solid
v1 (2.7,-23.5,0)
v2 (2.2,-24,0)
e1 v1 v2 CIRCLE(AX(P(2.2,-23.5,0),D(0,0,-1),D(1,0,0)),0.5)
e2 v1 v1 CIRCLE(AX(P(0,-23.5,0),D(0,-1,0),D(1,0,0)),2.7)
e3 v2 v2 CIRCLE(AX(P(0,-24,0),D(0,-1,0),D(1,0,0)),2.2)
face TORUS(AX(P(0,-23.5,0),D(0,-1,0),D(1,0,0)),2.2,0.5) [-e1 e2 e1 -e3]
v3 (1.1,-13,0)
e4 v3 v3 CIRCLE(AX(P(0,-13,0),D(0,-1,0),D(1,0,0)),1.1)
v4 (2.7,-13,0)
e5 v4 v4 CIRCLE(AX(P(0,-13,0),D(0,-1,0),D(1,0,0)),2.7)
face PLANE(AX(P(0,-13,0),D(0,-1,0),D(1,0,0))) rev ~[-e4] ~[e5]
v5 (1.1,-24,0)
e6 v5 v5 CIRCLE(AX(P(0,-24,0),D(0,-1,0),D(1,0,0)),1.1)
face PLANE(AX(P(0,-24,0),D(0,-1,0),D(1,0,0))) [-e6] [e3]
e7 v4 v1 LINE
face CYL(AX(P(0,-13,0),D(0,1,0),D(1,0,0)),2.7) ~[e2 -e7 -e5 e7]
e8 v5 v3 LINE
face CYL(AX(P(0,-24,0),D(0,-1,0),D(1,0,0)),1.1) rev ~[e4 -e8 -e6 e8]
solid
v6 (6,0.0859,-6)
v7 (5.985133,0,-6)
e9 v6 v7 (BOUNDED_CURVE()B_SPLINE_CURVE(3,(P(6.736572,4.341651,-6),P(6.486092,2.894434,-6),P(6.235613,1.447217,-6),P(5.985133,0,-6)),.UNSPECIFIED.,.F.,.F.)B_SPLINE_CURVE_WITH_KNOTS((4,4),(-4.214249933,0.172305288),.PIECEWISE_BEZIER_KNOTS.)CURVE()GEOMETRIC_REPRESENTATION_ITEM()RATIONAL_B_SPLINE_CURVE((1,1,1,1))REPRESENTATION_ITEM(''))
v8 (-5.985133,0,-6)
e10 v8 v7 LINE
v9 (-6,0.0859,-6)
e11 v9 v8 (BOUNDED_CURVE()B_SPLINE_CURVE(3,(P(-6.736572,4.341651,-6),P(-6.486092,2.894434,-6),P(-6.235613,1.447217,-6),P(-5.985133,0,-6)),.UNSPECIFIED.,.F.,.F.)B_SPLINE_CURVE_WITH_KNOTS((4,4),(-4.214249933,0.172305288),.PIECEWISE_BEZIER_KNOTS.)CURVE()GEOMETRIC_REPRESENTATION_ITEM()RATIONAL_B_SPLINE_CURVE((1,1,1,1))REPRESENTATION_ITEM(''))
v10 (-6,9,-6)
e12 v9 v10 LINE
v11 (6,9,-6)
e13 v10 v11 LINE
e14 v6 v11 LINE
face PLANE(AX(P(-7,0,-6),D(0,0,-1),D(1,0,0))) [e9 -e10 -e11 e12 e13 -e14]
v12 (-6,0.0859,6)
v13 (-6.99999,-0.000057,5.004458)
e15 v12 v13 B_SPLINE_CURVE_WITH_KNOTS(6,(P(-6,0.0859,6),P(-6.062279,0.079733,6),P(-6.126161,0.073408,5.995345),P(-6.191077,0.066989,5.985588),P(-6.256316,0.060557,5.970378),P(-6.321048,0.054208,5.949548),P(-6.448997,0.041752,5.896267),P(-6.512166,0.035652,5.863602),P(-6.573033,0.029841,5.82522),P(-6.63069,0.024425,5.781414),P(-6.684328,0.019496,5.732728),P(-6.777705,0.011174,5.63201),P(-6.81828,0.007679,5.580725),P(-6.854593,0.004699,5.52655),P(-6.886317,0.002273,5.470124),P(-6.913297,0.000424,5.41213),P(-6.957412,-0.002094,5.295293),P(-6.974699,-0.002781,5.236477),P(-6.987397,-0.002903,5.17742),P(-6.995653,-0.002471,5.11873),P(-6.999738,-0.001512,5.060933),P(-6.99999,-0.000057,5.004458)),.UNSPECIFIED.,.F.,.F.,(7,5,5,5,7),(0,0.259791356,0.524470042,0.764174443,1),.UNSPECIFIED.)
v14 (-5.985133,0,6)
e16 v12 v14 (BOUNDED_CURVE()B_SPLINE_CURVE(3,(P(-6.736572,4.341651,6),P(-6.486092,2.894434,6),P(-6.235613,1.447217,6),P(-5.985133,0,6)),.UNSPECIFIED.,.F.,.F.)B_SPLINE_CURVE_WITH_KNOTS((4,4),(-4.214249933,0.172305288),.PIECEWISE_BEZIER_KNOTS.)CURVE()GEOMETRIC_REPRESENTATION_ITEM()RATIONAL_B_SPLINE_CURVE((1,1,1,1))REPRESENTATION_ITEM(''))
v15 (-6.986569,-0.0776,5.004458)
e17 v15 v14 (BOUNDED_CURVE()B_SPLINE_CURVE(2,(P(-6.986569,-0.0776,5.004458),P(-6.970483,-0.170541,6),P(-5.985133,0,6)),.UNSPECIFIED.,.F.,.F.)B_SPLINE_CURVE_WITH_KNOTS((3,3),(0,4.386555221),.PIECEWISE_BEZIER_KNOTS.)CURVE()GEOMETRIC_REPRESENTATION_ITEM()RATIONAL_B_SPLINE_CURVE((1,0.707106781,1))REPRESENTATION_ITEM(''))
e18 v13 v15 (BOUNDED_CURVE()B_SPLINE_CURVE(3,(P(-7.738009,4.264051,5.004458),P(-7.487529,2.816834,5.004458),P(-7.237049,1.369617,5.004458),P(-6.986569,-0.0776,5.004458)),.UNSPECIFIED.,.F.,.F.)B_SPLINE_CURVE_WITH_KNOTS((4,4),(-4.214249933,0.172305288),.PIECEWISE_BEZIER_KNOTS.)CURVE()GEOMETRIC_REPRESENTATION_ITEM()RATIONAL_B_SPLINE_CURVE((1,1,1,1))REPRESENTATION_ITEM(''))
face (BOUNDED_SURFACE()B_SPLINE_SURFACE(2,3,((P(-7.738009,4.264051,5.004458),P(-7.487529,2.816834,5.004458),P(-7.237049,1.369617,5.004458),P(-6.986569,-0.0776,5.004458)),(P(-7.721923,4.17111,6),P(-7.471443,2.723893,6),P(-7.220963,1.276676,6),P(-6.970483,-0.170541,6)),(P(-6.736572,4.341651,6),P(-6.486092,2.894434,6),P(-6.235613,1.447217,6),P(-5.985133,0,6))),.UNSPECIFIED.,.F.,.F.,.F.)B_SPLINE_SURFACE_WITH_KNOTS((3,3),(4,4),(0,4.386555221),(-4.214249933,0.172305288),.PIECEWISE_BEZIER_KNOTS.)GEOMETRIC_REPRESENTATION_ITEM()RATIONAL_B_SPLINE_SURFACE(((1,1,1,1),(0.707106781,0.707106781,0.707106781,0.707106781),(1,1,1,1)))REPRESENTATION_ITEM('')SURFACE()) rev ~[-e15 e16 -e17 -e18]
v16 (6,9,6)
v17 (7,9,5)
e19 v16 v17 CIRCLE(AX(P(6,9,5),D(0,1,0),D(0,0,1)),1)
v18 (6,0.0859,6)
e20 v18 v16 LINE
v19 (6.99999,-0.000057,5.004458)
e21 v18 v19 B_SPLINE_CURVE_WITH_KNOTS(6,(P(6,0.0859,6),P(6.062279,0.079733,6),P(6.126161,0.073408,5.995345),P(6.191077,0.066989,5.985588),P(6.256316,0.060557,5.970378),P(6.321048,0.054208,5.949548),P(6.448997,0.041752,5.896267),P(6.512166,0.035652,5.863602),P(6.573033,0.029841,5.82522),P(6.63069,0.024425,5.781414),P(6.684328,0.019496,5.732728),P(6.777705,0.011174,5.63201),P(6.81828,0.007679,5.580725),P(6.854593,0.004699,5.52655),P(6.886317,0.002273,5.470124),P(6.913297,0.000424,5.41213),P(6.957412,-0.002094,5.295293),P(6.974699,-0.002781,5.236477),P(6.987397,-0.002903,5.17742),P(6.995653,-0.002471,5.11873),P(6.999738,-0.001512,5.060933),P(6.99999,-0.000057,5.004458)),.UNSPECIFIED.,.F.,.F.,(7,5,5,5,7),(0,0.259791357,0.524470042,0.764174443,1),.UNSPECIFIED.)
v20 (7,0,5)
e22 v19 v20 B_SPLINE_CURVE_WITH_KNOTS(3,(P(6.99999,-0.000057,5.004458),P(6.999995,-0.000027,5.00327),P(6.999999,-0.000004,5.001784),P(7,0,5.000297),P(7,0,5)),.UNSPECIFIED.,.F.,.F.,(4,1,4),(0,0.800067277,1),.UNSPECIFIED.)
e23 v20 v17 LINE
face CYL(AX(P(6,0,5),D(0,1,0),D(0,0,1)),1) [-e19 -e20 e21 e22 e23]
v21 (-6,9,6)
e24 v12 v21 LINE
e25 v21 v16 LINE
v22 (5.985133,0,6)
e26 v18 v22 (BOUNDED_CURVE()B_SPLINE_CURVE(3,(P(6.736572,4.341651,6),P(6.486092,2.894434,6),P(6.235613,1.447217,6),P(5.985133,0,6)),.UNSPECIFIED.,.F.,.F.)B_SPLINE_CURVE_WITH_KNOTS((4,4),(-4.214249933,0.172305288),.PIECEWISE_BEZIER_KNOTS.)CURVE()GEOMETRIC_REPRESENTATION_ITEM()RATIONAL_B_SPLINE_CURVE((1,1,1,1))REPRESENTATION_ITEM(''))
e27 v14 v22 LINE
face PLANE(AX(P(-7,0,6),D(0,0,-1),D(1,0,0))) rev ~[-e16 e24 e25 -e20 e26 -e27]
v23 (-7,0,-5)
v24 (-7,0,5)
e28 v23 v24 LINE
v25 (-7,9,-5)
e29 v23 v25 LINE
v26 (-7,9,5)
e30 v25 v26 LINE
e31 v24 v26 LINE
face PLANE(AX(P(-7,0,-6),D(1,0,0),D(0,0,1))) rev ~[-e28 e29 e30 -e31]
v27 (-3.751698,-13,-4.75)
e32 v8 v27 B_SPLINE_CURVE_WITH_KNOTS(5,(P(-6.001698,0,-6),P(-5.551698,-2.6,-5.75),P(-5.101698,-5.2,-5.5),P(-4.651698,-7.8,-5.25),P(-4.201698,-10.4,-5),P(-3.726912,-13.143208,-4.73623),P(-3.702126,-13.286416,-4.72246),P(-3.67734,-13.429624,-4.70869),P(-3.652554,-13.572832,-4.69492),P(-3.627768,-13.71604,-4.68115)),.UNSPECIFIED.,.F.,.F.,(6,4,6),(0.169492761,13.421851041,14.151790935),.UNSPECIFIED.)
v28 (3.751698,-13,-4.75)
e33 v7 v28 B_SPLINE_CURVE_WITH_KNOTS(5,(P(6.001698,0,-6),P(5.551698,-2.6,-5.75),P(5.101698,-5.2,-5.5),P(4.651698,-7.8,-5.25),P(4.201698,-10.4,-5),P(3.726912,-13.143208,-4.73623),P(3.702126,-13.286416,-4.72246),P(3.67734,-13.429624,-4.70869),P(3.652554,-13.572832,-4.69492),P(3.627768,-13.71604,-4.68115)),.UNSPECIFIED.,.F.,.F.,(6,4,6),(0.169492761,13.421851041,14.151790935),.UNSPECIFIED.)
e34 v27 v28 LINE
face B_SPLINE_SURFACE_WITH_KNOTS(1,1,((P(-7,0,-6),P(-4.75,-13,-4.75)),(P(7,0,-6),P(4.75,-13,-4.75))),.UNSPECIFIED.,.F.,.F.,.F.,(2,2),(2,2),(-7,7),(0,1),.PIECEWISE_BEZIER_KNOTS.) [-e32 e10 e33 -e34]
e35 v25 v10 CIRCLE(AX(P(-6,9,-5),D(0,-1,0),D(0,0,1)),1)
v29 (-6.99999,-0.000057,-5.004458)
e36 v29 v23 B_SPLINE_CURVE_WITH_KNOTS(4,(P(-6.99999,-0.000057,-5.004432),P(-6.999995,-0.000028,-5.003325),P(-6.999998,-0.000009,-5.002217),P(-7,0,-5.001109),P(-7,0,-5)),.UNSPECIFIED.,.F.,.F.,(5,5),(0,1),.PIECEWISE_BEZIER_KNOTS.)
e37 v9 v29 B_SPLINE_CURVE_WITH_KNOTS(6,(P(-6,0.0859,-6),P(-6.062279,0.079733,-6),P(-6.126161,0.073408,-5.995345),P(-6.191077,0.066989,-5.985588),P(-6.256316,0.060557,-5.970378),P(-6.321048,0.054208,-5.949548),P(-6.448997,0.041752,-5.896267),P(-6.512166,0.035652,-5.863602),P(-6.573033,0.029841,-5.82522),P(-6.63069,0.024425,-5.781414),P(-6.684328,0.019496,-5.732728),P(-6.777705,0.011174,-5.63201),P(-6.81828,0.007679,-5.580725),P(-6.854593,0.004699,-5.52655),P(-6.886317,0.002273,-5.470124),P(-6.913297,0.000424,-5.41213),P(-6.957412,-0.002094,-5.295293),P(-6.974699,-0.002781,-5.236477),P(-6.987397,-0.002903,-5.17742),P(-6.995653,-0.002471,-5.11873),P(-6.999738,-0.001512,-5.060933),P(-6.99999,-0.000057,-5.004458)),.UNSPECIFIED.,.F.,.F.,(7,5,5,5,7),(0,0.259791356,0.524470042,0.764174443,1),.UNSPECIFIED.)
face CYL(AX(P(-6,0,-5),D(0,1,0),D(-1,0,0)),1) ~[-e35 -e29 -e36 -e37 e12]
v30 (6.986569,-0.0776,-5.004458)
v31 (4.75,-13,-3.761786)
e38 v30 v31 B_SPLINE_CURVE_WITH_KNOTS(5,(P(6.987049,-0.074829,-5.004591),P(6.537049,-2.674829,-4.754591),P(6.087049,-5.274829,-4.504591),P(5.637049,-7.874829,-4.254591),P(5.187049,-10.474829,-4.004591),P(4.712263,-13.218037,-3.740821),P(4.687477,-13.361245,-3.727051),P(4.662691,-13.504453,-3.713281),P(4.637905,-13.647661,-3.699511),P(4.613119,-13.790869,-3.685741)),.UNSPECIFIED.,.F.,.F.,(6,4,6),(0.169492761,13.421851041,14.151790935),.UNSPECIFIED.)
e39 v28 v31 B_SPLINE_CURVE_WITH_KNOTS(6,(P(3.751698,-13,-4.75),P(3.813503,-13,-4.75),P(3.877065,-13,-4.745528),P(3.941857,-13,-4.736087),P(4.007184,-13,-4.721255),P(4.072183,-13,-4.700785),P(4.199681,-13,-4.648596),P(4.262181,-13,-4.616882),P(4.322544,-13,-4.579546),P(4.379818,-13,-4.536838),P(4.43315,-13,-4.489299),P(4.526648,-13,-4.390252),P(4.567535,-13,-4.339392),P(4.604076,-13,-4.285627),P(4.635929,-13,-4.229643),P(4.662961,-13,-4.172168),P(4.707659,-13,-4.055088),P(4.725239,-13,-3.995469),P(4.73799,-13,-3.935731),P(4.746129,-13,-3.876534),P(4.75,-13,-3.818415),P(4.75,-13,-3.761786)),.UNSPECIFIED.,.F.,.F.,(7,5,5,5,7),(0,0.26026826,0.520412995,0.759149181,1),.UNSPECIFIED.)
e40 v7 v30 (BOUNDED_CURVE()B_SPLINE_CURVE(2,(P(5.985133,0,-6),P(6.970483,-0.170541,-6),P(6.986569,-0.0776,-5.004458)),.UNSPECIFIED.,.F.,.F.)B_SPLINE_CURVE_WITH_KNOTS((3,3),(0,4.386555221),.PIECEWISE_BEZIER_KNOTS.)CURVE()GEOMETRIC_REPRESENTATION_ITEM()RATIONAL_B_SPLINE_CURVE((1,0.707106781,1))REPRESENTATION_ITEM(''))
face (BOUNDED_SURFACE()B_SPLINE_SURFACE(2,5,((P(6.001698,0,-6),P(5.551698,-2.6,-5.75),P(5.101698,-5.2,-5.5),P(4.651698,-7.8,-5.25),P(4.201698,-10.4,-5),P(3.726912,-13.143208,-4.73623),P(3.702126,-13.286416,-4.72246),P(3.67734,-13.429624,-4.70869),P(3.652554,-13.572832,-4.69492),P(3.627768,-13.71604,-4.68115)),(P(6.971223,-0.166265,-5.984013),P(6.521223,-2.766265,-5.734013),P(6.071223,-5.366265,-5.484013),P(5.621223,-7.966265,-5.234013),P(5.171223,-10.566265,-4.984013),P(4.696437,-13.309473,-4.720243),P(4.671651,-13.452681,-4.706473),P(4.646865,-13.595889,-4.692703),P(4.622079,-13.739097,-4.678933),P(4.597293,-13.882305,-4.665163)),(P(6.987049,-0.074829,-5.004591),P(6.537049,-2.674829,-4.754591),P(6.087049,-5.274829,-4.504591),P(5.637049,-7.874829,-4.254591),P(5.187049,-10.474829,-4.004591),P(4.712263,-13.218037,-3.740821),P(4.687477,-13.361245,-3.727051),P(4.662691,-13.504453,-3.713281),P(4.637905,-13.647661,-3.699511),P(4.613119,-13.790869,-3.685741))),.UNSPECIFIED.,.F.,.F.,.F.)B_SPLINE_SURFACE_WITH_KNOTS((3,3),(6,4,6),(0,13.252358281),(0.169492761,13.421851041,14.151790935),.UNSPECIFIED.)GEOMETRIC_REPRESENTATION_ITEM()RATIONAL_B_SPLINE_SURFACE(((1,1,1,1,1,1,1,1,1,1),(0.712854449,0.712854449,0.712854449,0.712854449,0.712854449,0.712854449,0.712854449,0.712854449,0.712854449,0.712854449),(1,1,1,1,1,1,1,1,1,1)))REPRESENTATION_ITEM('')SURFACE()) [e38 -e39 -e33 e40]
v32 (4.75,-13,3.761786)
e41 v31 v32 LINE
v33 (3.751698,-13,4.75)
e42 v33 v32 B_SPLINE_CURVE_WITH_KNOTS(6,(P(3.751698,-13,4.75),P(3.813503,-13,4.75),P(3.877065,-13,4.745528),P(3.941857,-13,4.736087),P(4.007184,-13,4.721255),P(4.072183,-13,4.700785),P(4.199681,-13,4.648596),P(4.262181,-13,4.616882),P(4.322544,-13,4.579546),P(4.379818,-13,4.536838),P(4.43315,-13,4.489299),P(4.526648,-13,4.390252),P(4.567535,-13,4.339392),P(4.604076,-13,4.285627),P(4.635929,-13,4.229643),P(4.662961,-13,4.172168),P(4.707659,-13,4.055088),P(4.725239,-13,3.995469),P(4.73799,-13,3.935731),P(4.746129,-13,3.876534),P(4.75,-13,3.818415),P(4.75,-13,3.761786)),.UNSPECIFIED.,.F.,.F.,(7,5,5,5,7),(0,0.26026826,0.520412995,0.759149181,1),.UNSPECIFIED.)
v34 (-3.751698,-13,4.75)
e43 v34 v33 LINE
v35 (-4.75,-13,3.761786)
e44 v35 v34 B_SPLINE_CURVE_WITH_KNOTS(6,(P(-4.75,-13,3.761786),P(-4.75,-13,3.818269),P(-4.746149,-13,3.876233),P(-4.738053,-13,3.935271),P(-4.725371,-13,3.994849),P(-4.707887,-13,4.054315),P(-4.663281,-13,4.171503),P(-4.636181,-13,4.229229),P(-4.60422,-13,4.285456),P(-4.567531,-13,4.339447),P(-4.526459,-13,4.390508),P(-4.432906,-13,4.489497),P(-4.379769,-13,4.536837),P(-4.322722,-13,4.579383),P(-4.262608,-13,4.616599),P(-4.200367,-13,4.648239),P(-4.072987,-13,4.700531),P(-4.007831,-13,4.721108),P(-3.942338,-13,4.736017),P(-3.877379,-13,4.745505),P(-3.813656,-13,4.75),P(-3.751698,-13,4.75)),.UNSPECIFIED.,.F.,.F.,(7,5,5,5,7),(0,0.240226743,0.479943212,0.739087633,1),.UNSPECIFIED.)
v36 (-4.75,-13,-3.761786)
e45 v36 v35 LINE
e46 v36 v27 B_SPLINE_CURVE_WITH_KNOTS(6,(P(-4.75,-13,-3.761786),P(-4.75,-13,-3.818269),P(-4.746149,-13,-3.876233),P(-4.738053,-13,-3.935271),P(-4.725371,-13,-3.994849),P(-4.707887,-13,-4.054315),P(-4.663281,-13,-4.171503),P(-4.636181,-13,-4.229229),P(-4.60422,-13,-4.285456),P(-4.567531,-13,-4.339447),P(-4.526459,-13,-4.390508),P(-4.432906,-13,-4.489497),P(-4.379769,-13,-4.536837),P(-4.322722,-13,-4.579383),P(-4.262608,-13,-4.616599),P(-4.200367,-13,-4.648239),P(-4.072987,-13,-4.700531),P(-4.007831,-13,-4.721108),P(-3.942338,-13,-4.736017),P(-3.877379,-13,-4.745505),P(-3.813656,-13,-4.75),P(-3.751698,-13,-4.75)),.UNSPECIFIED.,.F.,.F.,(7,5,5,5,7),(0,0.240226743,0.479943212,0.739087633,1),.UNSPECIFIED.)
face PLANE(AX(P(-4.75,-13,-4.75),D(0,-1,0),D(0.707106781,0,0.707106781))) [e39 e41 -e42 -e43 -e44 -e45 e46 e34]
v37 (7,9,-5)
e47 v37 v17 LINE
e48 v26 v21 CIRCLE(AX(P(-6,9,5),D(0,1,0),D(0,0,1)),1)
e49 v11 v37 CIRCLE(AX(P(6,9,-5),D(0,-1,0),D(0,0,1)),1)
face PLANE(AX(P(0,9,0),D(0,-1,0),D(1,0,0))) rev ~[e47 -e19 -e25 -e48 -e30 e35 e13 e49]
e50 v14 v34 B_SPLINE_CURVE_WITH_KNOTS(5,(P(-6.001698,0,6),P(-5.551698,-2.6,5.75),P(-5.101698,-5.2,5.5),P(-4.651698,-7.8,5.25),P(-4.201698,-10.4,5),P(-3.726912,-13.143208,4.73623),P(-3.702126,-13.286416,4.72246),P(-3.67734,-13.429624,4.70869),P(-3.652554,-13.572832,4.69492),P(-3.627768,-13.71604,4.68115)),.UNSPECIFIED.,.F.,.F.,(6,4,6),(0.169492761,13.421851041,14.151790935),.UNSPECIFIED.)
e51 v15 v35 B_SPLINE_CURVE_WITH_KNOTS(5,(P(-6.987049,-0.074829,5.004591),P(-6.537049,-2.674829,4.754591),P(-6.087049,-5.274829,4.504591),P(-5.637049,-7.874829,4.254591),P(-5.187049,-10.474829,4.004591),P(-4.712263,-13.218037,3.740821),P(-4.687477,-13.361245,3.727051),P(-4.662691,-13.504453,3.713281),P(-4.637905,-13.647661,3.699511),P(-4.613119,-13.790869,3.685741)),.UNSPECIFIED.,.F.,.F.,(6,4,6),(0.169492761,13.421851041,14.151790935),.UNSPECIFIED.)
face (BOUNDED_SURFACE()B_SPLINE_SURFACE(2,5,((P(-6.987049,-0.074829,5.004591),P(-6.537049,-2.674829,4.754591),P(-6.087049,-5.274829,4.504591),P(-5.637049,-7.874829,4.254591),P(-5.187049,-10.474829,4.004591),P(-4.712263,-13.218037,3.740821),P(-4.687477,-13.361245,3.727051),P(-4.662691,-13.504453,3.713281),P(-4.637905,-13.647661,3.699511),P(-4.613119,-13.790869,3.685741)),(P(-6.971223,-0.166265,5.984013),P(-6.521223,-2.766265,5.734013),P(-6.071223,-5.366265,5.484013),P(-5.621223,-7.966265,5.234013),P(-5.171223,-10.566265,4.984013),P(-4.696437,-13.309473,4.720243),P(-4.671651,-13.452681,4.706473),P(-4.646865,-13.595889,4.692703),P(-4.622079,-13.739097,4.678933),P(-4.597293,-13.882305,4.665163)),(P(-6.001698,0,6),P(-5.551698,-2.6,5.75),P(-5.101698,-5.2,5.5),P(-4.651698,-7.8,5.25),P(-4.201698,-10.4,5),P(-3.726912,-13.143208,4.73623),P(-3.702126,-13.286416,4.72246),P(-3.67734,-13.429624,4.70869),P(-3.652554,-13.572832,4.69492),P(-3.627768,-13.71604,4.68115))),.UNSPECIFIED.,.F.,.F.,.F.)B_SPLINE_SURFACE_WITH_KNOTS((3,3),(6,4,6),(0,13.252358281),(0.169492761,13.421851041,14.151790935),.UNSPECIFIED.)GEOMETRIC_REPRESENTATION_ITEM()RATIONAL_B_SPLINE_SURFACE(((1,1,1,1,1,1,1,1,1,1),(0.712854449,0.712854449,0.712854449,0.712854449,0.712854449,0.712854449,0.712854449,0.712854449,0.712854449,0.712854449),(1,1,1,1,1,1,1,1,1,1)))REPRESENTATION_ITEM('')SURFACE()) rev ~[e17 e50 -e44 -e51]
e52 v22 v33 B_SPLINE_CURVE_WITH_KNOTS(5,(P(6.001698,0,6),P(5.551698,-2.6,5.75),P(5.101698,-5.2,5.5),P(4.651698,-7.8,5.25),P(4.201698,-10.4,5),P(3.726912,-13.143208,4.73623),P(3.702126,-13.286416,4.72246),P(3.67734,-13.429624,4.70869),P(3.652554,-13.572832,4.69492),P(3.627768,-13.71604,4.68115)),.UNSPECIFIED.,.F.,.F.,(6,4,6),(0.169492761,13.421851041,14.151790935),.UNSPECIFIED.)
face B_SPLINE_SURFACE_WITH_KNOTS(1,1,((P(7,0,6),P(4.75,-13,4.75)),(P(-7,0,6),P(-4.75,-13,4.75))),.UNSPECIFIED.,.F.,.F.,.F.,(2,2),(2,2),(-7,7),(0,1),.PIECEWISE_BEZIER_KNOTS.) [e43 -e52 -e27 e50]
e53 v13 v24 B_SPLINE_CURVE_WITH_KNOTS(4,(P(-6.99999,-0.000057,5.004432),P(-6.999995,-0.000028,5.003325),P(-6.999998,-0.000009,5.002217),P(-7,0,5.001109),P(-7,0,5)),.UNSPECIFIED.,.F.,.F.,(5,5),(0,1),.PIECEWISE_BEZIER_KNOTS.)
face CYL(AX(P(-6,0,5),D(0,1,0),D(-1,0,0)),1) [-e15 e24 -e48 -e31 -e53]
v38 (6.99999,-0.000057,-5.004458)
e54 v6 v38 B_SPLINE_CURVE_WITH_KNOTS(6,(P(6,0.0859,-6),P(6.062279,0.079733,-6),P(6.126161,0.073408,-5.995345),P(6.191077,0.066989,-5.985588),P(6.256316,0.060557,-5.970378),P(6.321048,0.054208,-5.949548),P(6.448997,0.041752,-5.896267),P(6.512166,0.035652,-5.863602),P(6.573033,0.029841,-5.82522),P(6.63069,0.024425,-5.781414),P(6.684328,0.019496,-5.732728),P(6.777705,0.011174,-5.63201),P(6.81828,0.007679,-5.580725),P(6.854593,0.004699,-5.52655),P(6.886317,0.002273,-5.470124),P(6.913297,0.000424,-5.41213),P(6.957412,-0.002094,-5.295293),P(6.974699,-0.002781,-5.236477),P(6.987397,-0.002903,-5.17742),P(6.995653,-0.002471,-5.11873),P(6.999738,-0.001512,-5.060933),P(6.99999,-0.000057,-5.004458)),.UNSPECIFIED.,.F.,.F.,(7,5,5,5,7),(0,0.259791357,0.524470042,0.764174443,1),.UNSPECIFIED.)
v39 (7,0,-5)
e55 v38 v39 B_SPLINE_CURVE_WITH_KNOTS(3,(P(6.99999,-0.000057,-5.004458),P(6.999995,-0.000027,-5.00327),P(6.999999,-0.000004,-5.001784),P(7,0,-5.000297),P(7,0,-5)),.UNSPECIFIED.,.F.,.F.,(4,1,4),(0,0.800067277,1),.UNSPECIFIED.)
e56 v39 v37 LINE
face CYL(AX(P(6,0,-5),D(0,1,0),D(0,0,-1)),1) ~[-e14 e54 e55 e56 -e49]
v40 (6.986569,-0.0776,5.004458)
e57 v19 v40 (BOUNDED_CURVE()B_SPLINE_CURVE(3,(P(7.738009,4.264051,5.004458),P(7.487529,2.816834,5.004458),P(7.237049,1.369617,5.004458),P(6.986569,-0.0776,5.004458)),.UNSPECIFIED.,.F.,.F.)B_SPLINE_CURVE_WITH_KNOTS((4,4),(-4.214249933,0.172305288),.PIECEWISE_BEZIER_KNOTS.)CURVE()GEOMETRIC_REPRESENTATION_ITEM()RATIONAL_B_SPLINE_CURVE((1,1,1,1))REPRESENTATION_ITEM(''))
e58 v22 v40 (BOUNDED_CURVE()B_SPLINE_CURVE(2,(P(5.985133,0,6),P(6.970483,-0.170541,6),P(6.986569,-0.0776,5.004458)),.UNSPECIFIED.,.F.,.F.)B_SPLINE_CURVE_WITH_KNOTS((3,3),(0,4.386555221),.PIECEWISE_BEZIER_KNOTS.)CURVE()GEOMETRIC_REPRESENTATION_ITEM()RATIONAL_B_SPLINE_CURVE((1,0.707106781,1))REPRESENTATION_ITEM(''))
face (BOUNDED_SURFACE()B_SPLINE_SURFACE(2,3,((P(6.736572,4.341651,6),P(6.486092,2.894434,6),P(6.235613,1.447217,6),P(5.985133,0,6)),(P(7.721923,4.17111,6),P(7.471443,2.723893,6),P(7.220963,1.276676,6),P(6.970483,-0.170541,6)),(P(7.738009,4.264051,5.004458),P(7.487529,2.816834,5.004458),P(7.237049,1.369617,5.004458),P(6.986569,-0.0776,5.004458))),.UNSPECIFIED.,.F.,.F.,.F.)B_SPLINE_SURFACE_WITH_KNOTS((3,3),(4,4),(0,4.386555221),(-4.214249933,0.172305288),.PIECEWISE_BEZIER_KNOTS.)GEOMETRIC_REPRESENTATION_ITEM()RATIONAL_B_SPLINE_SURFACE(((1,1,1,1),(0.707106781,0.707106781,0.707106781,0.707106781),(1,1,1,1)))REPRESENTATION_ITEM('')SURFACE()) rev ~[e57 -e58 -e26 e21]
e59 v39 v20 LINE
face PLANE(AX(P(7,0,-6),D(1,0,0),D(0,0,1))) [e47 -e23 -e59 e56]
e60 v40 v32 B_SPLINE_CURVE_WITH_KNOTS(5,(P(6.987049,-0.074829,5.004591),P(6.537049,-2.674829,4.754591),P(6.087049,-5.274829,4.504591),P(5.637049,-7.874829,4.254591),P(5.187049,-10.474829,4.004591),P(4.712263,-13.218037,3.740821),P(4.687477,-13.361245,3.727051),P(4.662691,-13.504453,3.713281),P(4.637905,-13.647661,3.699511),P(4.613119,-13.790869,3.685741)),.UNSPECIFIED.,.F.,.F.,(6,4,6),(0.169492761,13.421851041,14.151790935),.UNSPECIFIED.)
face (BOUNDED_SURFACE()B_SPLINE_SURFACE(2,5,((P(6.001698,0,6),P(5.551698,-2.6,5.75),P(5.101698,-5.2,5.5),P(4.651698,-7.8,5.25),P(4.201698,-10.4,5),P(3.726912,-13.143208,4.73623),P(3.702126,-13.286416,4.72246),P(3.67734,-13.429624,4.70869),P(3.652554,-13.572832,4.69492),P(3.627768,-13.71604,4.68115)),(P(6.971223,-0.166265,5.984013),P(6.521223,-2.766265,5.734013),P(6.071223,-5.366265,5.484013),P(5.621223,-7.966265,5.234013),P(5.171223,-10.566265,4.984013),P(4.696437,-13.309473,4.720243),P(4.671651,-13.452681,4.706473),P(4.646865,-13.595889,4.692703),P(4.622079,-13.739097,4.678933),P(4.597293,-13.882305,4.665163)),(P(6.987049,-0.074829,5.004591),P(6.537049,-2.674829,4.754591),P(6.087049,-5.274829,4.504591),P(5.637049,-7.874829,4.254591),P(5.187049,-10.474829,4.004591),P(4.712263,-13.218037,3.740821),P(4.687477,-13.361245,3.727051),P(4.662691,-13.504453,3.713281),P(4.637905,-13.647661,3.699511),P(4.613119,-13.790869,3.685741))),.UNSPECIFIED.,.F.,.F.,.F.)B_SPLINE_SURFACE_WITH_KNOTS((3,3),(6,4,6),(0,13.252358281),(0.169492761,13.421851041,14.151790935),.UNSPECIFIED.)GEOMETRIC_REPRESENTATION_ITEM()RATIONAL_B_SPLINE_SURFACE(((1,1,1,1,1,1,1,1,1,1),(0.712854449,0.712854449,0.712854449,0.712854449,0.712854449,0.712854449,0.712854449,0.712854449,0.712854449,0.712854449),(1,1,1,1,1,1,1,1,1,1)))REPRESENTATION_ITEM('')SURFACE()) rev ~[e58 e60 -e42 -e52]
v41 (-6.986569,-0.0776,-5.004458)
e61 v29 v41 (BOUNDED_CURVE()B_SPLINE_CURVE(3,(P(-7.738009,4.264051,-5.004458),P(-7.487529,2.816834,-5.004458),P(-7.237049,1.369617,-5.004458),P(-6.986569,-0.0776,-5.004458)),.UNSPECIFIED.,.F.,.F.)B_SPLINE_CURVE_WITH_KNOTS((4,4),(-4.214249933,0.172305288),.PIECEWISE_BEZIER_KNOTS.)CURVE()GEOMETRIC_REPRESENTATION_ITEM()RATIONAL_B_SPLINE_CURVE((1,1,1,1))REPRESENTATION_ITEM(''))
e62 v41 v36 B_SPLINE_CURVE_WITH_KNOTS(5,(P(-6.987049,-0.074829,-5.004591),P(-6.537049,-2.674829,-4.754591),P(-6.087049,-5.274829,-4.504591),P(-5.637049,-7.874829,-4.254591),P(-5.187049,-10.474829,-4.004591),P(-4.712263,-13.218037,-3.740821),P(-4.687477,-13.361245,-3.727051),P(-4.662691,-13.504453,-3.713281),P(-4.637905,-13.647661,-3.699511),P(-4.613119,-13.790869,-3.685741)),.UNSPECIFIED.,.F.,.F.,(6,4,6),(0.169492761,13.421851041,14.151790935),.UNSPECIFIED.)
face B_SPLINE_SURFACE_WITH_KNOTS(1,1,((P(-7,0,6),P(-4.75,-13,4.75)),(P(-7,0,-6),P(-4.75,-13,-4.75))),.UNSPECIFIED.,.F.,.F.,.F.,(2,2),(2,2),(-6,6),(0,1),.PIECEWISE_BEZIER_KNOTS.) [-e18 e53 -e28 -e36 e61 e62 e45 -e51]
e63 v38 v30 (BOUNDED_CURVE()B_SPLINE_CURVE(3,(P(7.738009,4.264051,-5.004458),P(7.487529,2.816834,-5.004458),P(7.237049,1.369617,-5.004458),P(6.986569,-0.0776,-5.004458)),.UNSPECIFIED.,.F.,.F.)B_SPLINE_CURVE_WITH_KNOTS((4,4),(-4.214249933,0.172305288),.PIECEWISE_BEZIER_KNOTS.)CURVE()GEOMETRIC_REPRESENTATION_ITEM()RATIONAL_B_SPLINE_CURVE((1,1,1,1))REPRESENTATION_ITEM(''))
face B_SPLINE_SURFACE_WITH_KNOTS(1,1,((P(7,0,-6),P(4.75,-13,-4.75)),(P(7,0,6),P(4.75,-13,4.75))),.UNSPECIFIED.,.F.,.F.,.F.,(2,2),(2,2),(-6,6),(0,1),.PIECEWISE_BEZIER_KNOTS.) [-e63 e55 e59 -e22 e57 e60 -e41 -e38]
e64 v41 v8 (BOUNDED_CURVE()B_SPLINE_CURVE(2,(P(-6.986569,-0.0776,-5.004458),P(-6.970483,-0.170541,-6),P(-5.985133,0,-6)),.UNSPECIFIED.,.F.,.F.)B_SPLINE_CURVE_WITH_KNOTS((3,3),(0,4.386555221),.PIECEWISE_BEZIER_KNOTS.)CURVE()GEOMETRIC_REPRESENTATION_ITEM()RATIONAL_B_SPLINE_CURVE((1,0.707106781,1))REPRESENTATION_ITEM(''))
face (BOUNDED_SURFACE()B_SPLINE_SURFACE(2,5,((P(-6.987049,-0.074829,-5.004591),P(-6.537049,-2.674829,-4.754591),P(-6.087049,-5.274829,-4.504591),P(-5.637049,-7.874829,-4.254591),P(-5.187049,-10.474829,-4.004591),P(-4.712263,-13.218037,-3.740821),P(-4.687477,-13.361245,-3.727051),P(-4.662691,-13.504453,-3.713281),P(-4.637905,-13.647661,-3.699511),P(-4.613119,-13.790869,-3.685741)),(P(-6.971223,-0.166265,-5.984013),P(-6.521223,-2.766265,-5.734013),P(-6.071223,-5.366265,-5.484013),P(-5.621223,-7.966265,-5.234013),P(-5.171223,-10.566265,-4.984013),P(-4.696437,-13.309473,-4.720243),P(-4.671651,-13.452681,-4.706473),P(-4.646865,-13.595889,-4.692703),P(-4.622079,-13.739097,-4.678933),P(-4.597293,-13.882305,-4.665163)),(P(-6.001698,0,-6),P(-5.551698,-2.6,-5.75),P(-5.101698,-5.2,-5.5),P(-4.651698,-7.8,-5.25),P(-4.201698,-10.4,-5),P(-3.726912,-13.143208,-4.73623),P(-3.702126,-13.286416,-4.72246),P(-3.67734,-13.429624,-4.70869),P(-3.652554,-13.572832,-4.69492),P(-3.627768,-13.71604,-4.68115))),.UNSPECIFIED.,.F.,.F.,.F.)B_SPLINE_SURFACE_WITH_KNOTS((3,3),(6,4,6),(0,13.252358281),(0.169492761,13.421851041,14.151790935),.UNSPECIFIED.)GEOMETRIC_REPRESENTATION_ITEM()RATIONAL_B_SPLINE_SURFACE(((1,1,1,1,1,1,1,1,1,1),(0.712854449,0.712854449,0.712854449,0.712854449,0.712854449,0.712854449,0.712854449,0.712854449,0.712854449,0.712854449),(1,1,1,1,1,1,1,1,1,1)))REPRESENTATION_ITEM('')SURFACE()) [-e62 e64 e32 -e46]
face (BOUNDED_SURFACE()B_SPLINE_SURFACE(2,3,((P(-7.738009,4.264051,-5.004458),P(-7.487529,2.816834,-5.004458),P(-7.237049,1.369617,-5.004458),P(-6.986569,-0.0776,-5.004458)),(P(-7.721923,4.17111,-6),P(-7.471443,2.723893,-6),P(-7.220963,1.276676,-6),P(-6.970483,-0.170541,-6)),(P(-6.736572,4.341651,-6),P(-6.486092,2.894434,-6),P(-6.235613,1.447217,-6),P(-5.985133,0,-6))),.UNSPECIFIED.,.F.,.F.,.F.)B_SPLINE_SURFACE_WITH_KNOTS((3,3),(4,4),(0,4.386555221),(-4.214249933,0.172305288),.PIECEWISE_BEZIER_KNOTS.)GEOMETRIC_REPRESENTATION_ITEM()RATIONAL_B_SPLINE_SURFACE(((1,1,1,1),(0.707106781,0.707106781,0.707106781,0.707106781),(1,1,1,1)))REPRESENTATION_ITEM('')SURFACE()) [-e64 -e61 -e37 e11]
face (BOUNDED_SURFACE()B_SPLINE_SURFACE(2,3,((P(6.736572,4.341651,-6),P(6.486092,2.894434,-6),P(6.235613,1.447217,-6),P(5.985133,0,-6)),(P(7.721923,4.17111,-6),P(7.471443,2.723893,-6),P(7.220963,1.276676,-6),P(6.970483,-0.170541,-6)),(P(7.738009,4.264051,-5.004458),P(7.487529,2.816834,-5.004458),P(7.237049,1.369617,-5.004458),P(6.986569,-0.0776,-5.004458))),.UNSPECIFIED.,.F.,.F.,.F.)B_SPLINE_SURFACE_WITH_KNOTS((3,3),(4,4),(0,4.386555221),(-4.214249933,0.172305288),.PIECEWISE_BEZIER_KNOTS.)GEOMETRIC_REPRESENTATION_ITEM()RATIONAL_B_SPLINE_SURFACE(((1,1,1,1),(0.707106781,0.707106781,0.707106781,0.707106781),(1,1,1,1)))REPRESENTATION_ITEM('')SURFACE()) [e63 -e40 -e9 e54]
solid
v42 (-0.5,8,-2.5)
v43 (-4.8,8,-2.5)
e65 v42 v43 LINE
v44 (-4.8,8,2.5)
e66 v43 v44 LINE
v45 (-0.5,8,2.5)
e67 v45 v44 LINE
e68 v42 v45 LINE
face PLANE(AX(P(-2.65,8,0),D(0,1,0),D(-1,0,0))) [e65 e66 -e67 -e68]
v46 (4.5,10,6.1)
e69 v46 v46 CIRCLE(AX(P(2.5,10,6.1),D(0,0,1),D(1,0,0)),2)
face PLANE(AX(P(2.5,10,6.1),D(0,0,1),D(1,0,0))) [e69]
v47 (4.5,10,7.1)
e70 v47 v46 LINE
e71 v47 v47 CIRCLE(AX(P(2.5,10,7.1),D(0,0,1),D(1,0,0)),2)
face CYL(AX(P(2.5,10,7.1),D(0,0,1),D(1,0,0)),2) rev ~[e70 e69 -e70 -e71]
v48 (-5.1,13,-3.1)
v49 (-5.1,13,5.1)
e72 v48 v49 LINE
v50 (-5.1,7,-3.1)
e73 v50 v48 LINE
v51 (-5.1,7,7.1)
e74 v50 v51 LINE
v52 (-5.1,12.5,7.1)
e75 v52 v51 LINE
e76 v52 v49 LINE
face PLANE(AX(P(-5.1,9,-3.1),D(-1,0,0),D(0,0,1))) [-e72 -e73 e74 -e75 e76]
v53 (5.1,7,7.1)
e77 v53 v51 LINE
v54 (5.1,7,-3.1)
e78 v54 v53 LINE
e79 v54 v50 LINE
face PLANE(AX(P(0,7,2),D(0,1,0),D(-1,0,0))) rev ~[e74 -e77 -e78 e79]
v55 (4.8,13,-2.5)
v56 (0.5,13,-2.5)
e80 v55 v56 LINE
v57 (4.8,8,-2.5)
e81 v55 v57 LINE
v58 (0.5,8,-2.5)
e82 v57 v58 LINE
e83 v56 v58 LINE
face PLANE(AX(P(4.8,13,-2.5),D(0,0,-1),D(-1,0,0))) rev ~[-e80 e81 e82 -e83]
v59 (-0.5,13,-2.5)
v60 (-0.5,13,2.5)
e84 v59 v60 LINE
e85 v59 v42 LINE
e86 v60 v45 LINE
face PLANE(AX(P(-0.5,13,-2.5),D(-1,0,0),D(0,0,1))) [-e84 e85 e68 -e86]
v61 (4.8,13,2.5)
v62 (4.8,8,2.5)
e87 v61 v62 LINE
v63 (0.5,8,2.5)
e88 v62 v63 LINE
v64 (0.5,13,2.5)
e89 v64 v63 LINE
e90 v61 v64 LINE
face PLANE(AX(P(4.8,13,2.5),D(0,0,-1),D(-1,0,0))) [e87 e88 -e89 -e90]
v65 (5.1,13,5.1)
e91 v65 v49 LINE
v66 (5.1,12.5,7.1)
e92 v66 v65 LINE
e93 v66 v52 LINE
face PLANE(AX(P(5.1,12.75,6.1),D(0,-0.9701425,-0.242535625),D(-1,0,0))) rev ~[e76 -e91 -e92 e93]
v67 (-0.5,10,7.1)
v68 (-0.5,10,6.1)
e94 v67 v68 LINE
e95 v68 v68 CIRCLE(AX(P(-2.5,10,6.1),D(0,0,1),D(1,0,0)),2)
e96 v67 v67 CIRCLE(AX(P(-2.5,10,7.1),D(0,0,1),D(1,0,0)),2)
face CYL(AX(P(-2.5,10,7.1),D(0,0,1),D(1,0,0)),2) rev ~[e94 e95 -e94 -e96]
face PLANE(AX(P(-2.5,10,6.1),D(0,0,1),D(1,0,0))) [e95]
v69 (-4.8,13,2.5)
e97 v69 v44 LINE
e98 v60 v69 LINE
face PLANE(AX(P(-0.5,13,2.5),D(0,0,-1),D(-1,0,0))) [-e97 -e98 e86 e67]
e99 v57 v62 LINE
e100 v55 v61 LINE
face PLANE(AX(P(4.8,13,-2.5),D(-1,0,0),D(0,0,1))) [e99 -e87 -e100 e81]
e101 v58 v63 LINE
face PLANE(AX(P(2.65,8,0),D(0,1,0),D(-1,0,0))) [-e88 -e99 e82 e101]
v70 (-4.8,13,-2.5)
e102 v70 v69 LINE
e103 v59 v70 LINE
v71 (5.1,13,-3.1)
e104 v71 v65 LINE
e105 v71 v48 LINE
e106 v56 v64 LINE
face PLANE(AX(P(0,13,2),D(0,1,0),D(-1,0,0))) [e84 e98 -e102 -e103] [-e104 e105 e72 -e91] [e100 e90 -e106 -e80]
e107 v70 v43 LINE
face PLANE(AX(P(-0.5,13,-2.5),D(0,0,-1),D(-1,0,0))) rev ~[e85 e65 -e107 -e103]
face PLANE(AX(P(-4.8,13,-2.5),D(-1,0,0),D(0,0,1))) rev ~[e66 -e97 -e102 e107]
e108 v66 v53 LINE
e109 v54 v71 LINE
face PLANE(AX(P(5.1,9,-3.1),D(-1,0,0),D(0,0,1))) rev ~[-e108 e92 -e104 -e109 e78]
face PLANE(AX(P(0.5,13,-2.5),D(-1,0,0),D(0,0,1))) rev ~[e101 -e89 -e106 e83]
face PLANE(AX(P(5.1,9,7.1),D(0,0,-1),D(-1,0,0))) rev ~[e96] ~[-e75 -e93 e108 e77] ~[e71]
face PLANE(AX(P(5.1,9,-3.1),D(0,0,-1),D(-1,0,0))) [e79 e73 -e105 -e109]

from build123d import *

# Parameters (mm, degrees)
SKETCH_W          = 14
SKETCH_H          = 12
PAD_DEPTH         = 9
SKETCH002_W       = 14
SKETCH002_H       = 12
SKETCH001_W       = 9.5
SKETCH001_H       = 9.5
FILLET_R          = 1
SKETCH003_R       = 2.7
PAD001_DEPTH      = 11
FILLET001_R       = 0.5
SKETCH004_R       = 1.1
POCKET_DEPTH      = 11
SKETCH005_W       = 10.2
SKETCH005_H       = 10.2
PAD002_DEPTH      = 4
PAD002_DEPTH_BACK = 2
SKETCH006_R       = 2
POCKET001_DEPTH   = 1
CHAMFER_SIZE2     = 2
CHAMFER_SIZE      = 0.5
SKETCH007_W       = 4.3
SKETCH007_H       = 5
POCKET002_DEPTH   = 5


with BuildPart() as shell:
    # Sketch → Pad (new body)
    with BuildSketch(Plane.XZ):
        Rectangle(SKETCH_W, SKETCH_H)
    extrude(amount=-PAD_DEPTH)

    # Sketch002 (on Face5 of Pad) → AdditiveLoft section 0
    with BuildSketch(Plane.XZ):
        Rectangle(SKETCH002_W, SKETCH002_H)
    # Sketch001 (on DatumPlane) → AdditiveLoft section 1
    with BuildSketch(Plane.XZ.offset(13)):
        Rectangle(SKETCH001_W, SKETCH001_H)
    loft()

    # Fillet
    fillet_edges = [shell.edges().sort_by_distance(p)[0] for p in [
        (-7, 4.5, -6),
        (-5.875, -6.5, -5.375),
        (-5.875, -6.5, 5.375),
        (-7, 4.5, 6),
        (7, 4.5, -6),
        (5.875, -6.5, -5.375),
        (7, 4.5, 6),
        (5.875, -6.5, 5.375),
    ]]
    fillet(fillet_edges, radius=FILLET_R)


with BuildPart() as powerouter:
    # Sketch003 (on Face1 of CopyFillet) → Pad001 (new body)
    with BuildSketch(Plane.XZ.offset(13)):
        Circle(SKETCH003_R)
    extrude(amount=PAD001_DEPTH)

    # Fillet001
    fillet001_edges = [powerouter.edges().sort_by_distance(p)[0] for p in [
        (-2.7, -24, 0),
    ]]
    fillet(fillet001_edges, radius=FILLET001_R)

    # Sketch004 (on Face4 of Fillet001) → Pocket (cut)
    with BuildSketch(Plane.XZ.offset(24)):
        Circle(SKETCH004_R)
    extrude(amount=-POCKET_DEPTH, mode=Mode.SUBTRACT)


with BuildPart() as powerheader:
    # Sketch005 (on Face1 of CopyFillet001) → Pad002 (new body, two sides)
    with BuildSketch(Plane(origin=(0, 9, 0), x_dir=(-1, 0, 0), z_dir=(0, 1, 0))) as pad002_sk:
        with Locations((0, 2)):
            Rectangle(SKETCH005_W, SKETCH005_H)
    extrude(amount=PAD002_DEPTH)
    extrude(pad002_sk.sketch, amount=-PAD002_DEPTH_BACK)

    # Sketch006 (on Face1 of Pad002) → Pocket001 (cut)
    with BuildSketch(Plane(origin=(0, 9, 7.1), x_dir=(1, 0, 0), z_dir=(0, 0, 1))):
        with Locations((-2.5, 1)):
            Circle(SKETCH006_R)
        with Locations((2.5, 1)):
            Circle(SKETCH006_R)
    extrude(amount=-POCKET001_DEPTH, mode=Mode.SUBTRACT)

    # Chamfer
    chamfer_edges = [powerheader.edges().sort_by_distance(p)[0] for p in [
        (0, 13, 7.1),
    ]]
    chamfer_side = powerheader.faces().sort_by_distance((0, 10, 7.1))[0]
    chamfer(chamfer_edges, length=CHAMFER_SIZE, length2=CHAMFER_SIZE2, reference=chamfer_side)

    # Sketch007 (on Face8 of Chamfer) → Pocket002 (cut)
    with BuildSketch(Plane(origin=(0, 13, 0), x_dir=(-1, 0, 0), z_dir=(0, 1, 0))):
        with Locations((-2.65, 0)):
            Rectangle(SKETCH007_W, SKETCH007_H)
        with Locations((2.65, 0)):
            Rectangle(SKETCH007_W, SKETCH007_H)
    extrude(amount=-POCKET002_DEPTH, mode=Mode.SUBTRACT)


solid = Compound([shell.part, powerouter.part, powerheader.part])
